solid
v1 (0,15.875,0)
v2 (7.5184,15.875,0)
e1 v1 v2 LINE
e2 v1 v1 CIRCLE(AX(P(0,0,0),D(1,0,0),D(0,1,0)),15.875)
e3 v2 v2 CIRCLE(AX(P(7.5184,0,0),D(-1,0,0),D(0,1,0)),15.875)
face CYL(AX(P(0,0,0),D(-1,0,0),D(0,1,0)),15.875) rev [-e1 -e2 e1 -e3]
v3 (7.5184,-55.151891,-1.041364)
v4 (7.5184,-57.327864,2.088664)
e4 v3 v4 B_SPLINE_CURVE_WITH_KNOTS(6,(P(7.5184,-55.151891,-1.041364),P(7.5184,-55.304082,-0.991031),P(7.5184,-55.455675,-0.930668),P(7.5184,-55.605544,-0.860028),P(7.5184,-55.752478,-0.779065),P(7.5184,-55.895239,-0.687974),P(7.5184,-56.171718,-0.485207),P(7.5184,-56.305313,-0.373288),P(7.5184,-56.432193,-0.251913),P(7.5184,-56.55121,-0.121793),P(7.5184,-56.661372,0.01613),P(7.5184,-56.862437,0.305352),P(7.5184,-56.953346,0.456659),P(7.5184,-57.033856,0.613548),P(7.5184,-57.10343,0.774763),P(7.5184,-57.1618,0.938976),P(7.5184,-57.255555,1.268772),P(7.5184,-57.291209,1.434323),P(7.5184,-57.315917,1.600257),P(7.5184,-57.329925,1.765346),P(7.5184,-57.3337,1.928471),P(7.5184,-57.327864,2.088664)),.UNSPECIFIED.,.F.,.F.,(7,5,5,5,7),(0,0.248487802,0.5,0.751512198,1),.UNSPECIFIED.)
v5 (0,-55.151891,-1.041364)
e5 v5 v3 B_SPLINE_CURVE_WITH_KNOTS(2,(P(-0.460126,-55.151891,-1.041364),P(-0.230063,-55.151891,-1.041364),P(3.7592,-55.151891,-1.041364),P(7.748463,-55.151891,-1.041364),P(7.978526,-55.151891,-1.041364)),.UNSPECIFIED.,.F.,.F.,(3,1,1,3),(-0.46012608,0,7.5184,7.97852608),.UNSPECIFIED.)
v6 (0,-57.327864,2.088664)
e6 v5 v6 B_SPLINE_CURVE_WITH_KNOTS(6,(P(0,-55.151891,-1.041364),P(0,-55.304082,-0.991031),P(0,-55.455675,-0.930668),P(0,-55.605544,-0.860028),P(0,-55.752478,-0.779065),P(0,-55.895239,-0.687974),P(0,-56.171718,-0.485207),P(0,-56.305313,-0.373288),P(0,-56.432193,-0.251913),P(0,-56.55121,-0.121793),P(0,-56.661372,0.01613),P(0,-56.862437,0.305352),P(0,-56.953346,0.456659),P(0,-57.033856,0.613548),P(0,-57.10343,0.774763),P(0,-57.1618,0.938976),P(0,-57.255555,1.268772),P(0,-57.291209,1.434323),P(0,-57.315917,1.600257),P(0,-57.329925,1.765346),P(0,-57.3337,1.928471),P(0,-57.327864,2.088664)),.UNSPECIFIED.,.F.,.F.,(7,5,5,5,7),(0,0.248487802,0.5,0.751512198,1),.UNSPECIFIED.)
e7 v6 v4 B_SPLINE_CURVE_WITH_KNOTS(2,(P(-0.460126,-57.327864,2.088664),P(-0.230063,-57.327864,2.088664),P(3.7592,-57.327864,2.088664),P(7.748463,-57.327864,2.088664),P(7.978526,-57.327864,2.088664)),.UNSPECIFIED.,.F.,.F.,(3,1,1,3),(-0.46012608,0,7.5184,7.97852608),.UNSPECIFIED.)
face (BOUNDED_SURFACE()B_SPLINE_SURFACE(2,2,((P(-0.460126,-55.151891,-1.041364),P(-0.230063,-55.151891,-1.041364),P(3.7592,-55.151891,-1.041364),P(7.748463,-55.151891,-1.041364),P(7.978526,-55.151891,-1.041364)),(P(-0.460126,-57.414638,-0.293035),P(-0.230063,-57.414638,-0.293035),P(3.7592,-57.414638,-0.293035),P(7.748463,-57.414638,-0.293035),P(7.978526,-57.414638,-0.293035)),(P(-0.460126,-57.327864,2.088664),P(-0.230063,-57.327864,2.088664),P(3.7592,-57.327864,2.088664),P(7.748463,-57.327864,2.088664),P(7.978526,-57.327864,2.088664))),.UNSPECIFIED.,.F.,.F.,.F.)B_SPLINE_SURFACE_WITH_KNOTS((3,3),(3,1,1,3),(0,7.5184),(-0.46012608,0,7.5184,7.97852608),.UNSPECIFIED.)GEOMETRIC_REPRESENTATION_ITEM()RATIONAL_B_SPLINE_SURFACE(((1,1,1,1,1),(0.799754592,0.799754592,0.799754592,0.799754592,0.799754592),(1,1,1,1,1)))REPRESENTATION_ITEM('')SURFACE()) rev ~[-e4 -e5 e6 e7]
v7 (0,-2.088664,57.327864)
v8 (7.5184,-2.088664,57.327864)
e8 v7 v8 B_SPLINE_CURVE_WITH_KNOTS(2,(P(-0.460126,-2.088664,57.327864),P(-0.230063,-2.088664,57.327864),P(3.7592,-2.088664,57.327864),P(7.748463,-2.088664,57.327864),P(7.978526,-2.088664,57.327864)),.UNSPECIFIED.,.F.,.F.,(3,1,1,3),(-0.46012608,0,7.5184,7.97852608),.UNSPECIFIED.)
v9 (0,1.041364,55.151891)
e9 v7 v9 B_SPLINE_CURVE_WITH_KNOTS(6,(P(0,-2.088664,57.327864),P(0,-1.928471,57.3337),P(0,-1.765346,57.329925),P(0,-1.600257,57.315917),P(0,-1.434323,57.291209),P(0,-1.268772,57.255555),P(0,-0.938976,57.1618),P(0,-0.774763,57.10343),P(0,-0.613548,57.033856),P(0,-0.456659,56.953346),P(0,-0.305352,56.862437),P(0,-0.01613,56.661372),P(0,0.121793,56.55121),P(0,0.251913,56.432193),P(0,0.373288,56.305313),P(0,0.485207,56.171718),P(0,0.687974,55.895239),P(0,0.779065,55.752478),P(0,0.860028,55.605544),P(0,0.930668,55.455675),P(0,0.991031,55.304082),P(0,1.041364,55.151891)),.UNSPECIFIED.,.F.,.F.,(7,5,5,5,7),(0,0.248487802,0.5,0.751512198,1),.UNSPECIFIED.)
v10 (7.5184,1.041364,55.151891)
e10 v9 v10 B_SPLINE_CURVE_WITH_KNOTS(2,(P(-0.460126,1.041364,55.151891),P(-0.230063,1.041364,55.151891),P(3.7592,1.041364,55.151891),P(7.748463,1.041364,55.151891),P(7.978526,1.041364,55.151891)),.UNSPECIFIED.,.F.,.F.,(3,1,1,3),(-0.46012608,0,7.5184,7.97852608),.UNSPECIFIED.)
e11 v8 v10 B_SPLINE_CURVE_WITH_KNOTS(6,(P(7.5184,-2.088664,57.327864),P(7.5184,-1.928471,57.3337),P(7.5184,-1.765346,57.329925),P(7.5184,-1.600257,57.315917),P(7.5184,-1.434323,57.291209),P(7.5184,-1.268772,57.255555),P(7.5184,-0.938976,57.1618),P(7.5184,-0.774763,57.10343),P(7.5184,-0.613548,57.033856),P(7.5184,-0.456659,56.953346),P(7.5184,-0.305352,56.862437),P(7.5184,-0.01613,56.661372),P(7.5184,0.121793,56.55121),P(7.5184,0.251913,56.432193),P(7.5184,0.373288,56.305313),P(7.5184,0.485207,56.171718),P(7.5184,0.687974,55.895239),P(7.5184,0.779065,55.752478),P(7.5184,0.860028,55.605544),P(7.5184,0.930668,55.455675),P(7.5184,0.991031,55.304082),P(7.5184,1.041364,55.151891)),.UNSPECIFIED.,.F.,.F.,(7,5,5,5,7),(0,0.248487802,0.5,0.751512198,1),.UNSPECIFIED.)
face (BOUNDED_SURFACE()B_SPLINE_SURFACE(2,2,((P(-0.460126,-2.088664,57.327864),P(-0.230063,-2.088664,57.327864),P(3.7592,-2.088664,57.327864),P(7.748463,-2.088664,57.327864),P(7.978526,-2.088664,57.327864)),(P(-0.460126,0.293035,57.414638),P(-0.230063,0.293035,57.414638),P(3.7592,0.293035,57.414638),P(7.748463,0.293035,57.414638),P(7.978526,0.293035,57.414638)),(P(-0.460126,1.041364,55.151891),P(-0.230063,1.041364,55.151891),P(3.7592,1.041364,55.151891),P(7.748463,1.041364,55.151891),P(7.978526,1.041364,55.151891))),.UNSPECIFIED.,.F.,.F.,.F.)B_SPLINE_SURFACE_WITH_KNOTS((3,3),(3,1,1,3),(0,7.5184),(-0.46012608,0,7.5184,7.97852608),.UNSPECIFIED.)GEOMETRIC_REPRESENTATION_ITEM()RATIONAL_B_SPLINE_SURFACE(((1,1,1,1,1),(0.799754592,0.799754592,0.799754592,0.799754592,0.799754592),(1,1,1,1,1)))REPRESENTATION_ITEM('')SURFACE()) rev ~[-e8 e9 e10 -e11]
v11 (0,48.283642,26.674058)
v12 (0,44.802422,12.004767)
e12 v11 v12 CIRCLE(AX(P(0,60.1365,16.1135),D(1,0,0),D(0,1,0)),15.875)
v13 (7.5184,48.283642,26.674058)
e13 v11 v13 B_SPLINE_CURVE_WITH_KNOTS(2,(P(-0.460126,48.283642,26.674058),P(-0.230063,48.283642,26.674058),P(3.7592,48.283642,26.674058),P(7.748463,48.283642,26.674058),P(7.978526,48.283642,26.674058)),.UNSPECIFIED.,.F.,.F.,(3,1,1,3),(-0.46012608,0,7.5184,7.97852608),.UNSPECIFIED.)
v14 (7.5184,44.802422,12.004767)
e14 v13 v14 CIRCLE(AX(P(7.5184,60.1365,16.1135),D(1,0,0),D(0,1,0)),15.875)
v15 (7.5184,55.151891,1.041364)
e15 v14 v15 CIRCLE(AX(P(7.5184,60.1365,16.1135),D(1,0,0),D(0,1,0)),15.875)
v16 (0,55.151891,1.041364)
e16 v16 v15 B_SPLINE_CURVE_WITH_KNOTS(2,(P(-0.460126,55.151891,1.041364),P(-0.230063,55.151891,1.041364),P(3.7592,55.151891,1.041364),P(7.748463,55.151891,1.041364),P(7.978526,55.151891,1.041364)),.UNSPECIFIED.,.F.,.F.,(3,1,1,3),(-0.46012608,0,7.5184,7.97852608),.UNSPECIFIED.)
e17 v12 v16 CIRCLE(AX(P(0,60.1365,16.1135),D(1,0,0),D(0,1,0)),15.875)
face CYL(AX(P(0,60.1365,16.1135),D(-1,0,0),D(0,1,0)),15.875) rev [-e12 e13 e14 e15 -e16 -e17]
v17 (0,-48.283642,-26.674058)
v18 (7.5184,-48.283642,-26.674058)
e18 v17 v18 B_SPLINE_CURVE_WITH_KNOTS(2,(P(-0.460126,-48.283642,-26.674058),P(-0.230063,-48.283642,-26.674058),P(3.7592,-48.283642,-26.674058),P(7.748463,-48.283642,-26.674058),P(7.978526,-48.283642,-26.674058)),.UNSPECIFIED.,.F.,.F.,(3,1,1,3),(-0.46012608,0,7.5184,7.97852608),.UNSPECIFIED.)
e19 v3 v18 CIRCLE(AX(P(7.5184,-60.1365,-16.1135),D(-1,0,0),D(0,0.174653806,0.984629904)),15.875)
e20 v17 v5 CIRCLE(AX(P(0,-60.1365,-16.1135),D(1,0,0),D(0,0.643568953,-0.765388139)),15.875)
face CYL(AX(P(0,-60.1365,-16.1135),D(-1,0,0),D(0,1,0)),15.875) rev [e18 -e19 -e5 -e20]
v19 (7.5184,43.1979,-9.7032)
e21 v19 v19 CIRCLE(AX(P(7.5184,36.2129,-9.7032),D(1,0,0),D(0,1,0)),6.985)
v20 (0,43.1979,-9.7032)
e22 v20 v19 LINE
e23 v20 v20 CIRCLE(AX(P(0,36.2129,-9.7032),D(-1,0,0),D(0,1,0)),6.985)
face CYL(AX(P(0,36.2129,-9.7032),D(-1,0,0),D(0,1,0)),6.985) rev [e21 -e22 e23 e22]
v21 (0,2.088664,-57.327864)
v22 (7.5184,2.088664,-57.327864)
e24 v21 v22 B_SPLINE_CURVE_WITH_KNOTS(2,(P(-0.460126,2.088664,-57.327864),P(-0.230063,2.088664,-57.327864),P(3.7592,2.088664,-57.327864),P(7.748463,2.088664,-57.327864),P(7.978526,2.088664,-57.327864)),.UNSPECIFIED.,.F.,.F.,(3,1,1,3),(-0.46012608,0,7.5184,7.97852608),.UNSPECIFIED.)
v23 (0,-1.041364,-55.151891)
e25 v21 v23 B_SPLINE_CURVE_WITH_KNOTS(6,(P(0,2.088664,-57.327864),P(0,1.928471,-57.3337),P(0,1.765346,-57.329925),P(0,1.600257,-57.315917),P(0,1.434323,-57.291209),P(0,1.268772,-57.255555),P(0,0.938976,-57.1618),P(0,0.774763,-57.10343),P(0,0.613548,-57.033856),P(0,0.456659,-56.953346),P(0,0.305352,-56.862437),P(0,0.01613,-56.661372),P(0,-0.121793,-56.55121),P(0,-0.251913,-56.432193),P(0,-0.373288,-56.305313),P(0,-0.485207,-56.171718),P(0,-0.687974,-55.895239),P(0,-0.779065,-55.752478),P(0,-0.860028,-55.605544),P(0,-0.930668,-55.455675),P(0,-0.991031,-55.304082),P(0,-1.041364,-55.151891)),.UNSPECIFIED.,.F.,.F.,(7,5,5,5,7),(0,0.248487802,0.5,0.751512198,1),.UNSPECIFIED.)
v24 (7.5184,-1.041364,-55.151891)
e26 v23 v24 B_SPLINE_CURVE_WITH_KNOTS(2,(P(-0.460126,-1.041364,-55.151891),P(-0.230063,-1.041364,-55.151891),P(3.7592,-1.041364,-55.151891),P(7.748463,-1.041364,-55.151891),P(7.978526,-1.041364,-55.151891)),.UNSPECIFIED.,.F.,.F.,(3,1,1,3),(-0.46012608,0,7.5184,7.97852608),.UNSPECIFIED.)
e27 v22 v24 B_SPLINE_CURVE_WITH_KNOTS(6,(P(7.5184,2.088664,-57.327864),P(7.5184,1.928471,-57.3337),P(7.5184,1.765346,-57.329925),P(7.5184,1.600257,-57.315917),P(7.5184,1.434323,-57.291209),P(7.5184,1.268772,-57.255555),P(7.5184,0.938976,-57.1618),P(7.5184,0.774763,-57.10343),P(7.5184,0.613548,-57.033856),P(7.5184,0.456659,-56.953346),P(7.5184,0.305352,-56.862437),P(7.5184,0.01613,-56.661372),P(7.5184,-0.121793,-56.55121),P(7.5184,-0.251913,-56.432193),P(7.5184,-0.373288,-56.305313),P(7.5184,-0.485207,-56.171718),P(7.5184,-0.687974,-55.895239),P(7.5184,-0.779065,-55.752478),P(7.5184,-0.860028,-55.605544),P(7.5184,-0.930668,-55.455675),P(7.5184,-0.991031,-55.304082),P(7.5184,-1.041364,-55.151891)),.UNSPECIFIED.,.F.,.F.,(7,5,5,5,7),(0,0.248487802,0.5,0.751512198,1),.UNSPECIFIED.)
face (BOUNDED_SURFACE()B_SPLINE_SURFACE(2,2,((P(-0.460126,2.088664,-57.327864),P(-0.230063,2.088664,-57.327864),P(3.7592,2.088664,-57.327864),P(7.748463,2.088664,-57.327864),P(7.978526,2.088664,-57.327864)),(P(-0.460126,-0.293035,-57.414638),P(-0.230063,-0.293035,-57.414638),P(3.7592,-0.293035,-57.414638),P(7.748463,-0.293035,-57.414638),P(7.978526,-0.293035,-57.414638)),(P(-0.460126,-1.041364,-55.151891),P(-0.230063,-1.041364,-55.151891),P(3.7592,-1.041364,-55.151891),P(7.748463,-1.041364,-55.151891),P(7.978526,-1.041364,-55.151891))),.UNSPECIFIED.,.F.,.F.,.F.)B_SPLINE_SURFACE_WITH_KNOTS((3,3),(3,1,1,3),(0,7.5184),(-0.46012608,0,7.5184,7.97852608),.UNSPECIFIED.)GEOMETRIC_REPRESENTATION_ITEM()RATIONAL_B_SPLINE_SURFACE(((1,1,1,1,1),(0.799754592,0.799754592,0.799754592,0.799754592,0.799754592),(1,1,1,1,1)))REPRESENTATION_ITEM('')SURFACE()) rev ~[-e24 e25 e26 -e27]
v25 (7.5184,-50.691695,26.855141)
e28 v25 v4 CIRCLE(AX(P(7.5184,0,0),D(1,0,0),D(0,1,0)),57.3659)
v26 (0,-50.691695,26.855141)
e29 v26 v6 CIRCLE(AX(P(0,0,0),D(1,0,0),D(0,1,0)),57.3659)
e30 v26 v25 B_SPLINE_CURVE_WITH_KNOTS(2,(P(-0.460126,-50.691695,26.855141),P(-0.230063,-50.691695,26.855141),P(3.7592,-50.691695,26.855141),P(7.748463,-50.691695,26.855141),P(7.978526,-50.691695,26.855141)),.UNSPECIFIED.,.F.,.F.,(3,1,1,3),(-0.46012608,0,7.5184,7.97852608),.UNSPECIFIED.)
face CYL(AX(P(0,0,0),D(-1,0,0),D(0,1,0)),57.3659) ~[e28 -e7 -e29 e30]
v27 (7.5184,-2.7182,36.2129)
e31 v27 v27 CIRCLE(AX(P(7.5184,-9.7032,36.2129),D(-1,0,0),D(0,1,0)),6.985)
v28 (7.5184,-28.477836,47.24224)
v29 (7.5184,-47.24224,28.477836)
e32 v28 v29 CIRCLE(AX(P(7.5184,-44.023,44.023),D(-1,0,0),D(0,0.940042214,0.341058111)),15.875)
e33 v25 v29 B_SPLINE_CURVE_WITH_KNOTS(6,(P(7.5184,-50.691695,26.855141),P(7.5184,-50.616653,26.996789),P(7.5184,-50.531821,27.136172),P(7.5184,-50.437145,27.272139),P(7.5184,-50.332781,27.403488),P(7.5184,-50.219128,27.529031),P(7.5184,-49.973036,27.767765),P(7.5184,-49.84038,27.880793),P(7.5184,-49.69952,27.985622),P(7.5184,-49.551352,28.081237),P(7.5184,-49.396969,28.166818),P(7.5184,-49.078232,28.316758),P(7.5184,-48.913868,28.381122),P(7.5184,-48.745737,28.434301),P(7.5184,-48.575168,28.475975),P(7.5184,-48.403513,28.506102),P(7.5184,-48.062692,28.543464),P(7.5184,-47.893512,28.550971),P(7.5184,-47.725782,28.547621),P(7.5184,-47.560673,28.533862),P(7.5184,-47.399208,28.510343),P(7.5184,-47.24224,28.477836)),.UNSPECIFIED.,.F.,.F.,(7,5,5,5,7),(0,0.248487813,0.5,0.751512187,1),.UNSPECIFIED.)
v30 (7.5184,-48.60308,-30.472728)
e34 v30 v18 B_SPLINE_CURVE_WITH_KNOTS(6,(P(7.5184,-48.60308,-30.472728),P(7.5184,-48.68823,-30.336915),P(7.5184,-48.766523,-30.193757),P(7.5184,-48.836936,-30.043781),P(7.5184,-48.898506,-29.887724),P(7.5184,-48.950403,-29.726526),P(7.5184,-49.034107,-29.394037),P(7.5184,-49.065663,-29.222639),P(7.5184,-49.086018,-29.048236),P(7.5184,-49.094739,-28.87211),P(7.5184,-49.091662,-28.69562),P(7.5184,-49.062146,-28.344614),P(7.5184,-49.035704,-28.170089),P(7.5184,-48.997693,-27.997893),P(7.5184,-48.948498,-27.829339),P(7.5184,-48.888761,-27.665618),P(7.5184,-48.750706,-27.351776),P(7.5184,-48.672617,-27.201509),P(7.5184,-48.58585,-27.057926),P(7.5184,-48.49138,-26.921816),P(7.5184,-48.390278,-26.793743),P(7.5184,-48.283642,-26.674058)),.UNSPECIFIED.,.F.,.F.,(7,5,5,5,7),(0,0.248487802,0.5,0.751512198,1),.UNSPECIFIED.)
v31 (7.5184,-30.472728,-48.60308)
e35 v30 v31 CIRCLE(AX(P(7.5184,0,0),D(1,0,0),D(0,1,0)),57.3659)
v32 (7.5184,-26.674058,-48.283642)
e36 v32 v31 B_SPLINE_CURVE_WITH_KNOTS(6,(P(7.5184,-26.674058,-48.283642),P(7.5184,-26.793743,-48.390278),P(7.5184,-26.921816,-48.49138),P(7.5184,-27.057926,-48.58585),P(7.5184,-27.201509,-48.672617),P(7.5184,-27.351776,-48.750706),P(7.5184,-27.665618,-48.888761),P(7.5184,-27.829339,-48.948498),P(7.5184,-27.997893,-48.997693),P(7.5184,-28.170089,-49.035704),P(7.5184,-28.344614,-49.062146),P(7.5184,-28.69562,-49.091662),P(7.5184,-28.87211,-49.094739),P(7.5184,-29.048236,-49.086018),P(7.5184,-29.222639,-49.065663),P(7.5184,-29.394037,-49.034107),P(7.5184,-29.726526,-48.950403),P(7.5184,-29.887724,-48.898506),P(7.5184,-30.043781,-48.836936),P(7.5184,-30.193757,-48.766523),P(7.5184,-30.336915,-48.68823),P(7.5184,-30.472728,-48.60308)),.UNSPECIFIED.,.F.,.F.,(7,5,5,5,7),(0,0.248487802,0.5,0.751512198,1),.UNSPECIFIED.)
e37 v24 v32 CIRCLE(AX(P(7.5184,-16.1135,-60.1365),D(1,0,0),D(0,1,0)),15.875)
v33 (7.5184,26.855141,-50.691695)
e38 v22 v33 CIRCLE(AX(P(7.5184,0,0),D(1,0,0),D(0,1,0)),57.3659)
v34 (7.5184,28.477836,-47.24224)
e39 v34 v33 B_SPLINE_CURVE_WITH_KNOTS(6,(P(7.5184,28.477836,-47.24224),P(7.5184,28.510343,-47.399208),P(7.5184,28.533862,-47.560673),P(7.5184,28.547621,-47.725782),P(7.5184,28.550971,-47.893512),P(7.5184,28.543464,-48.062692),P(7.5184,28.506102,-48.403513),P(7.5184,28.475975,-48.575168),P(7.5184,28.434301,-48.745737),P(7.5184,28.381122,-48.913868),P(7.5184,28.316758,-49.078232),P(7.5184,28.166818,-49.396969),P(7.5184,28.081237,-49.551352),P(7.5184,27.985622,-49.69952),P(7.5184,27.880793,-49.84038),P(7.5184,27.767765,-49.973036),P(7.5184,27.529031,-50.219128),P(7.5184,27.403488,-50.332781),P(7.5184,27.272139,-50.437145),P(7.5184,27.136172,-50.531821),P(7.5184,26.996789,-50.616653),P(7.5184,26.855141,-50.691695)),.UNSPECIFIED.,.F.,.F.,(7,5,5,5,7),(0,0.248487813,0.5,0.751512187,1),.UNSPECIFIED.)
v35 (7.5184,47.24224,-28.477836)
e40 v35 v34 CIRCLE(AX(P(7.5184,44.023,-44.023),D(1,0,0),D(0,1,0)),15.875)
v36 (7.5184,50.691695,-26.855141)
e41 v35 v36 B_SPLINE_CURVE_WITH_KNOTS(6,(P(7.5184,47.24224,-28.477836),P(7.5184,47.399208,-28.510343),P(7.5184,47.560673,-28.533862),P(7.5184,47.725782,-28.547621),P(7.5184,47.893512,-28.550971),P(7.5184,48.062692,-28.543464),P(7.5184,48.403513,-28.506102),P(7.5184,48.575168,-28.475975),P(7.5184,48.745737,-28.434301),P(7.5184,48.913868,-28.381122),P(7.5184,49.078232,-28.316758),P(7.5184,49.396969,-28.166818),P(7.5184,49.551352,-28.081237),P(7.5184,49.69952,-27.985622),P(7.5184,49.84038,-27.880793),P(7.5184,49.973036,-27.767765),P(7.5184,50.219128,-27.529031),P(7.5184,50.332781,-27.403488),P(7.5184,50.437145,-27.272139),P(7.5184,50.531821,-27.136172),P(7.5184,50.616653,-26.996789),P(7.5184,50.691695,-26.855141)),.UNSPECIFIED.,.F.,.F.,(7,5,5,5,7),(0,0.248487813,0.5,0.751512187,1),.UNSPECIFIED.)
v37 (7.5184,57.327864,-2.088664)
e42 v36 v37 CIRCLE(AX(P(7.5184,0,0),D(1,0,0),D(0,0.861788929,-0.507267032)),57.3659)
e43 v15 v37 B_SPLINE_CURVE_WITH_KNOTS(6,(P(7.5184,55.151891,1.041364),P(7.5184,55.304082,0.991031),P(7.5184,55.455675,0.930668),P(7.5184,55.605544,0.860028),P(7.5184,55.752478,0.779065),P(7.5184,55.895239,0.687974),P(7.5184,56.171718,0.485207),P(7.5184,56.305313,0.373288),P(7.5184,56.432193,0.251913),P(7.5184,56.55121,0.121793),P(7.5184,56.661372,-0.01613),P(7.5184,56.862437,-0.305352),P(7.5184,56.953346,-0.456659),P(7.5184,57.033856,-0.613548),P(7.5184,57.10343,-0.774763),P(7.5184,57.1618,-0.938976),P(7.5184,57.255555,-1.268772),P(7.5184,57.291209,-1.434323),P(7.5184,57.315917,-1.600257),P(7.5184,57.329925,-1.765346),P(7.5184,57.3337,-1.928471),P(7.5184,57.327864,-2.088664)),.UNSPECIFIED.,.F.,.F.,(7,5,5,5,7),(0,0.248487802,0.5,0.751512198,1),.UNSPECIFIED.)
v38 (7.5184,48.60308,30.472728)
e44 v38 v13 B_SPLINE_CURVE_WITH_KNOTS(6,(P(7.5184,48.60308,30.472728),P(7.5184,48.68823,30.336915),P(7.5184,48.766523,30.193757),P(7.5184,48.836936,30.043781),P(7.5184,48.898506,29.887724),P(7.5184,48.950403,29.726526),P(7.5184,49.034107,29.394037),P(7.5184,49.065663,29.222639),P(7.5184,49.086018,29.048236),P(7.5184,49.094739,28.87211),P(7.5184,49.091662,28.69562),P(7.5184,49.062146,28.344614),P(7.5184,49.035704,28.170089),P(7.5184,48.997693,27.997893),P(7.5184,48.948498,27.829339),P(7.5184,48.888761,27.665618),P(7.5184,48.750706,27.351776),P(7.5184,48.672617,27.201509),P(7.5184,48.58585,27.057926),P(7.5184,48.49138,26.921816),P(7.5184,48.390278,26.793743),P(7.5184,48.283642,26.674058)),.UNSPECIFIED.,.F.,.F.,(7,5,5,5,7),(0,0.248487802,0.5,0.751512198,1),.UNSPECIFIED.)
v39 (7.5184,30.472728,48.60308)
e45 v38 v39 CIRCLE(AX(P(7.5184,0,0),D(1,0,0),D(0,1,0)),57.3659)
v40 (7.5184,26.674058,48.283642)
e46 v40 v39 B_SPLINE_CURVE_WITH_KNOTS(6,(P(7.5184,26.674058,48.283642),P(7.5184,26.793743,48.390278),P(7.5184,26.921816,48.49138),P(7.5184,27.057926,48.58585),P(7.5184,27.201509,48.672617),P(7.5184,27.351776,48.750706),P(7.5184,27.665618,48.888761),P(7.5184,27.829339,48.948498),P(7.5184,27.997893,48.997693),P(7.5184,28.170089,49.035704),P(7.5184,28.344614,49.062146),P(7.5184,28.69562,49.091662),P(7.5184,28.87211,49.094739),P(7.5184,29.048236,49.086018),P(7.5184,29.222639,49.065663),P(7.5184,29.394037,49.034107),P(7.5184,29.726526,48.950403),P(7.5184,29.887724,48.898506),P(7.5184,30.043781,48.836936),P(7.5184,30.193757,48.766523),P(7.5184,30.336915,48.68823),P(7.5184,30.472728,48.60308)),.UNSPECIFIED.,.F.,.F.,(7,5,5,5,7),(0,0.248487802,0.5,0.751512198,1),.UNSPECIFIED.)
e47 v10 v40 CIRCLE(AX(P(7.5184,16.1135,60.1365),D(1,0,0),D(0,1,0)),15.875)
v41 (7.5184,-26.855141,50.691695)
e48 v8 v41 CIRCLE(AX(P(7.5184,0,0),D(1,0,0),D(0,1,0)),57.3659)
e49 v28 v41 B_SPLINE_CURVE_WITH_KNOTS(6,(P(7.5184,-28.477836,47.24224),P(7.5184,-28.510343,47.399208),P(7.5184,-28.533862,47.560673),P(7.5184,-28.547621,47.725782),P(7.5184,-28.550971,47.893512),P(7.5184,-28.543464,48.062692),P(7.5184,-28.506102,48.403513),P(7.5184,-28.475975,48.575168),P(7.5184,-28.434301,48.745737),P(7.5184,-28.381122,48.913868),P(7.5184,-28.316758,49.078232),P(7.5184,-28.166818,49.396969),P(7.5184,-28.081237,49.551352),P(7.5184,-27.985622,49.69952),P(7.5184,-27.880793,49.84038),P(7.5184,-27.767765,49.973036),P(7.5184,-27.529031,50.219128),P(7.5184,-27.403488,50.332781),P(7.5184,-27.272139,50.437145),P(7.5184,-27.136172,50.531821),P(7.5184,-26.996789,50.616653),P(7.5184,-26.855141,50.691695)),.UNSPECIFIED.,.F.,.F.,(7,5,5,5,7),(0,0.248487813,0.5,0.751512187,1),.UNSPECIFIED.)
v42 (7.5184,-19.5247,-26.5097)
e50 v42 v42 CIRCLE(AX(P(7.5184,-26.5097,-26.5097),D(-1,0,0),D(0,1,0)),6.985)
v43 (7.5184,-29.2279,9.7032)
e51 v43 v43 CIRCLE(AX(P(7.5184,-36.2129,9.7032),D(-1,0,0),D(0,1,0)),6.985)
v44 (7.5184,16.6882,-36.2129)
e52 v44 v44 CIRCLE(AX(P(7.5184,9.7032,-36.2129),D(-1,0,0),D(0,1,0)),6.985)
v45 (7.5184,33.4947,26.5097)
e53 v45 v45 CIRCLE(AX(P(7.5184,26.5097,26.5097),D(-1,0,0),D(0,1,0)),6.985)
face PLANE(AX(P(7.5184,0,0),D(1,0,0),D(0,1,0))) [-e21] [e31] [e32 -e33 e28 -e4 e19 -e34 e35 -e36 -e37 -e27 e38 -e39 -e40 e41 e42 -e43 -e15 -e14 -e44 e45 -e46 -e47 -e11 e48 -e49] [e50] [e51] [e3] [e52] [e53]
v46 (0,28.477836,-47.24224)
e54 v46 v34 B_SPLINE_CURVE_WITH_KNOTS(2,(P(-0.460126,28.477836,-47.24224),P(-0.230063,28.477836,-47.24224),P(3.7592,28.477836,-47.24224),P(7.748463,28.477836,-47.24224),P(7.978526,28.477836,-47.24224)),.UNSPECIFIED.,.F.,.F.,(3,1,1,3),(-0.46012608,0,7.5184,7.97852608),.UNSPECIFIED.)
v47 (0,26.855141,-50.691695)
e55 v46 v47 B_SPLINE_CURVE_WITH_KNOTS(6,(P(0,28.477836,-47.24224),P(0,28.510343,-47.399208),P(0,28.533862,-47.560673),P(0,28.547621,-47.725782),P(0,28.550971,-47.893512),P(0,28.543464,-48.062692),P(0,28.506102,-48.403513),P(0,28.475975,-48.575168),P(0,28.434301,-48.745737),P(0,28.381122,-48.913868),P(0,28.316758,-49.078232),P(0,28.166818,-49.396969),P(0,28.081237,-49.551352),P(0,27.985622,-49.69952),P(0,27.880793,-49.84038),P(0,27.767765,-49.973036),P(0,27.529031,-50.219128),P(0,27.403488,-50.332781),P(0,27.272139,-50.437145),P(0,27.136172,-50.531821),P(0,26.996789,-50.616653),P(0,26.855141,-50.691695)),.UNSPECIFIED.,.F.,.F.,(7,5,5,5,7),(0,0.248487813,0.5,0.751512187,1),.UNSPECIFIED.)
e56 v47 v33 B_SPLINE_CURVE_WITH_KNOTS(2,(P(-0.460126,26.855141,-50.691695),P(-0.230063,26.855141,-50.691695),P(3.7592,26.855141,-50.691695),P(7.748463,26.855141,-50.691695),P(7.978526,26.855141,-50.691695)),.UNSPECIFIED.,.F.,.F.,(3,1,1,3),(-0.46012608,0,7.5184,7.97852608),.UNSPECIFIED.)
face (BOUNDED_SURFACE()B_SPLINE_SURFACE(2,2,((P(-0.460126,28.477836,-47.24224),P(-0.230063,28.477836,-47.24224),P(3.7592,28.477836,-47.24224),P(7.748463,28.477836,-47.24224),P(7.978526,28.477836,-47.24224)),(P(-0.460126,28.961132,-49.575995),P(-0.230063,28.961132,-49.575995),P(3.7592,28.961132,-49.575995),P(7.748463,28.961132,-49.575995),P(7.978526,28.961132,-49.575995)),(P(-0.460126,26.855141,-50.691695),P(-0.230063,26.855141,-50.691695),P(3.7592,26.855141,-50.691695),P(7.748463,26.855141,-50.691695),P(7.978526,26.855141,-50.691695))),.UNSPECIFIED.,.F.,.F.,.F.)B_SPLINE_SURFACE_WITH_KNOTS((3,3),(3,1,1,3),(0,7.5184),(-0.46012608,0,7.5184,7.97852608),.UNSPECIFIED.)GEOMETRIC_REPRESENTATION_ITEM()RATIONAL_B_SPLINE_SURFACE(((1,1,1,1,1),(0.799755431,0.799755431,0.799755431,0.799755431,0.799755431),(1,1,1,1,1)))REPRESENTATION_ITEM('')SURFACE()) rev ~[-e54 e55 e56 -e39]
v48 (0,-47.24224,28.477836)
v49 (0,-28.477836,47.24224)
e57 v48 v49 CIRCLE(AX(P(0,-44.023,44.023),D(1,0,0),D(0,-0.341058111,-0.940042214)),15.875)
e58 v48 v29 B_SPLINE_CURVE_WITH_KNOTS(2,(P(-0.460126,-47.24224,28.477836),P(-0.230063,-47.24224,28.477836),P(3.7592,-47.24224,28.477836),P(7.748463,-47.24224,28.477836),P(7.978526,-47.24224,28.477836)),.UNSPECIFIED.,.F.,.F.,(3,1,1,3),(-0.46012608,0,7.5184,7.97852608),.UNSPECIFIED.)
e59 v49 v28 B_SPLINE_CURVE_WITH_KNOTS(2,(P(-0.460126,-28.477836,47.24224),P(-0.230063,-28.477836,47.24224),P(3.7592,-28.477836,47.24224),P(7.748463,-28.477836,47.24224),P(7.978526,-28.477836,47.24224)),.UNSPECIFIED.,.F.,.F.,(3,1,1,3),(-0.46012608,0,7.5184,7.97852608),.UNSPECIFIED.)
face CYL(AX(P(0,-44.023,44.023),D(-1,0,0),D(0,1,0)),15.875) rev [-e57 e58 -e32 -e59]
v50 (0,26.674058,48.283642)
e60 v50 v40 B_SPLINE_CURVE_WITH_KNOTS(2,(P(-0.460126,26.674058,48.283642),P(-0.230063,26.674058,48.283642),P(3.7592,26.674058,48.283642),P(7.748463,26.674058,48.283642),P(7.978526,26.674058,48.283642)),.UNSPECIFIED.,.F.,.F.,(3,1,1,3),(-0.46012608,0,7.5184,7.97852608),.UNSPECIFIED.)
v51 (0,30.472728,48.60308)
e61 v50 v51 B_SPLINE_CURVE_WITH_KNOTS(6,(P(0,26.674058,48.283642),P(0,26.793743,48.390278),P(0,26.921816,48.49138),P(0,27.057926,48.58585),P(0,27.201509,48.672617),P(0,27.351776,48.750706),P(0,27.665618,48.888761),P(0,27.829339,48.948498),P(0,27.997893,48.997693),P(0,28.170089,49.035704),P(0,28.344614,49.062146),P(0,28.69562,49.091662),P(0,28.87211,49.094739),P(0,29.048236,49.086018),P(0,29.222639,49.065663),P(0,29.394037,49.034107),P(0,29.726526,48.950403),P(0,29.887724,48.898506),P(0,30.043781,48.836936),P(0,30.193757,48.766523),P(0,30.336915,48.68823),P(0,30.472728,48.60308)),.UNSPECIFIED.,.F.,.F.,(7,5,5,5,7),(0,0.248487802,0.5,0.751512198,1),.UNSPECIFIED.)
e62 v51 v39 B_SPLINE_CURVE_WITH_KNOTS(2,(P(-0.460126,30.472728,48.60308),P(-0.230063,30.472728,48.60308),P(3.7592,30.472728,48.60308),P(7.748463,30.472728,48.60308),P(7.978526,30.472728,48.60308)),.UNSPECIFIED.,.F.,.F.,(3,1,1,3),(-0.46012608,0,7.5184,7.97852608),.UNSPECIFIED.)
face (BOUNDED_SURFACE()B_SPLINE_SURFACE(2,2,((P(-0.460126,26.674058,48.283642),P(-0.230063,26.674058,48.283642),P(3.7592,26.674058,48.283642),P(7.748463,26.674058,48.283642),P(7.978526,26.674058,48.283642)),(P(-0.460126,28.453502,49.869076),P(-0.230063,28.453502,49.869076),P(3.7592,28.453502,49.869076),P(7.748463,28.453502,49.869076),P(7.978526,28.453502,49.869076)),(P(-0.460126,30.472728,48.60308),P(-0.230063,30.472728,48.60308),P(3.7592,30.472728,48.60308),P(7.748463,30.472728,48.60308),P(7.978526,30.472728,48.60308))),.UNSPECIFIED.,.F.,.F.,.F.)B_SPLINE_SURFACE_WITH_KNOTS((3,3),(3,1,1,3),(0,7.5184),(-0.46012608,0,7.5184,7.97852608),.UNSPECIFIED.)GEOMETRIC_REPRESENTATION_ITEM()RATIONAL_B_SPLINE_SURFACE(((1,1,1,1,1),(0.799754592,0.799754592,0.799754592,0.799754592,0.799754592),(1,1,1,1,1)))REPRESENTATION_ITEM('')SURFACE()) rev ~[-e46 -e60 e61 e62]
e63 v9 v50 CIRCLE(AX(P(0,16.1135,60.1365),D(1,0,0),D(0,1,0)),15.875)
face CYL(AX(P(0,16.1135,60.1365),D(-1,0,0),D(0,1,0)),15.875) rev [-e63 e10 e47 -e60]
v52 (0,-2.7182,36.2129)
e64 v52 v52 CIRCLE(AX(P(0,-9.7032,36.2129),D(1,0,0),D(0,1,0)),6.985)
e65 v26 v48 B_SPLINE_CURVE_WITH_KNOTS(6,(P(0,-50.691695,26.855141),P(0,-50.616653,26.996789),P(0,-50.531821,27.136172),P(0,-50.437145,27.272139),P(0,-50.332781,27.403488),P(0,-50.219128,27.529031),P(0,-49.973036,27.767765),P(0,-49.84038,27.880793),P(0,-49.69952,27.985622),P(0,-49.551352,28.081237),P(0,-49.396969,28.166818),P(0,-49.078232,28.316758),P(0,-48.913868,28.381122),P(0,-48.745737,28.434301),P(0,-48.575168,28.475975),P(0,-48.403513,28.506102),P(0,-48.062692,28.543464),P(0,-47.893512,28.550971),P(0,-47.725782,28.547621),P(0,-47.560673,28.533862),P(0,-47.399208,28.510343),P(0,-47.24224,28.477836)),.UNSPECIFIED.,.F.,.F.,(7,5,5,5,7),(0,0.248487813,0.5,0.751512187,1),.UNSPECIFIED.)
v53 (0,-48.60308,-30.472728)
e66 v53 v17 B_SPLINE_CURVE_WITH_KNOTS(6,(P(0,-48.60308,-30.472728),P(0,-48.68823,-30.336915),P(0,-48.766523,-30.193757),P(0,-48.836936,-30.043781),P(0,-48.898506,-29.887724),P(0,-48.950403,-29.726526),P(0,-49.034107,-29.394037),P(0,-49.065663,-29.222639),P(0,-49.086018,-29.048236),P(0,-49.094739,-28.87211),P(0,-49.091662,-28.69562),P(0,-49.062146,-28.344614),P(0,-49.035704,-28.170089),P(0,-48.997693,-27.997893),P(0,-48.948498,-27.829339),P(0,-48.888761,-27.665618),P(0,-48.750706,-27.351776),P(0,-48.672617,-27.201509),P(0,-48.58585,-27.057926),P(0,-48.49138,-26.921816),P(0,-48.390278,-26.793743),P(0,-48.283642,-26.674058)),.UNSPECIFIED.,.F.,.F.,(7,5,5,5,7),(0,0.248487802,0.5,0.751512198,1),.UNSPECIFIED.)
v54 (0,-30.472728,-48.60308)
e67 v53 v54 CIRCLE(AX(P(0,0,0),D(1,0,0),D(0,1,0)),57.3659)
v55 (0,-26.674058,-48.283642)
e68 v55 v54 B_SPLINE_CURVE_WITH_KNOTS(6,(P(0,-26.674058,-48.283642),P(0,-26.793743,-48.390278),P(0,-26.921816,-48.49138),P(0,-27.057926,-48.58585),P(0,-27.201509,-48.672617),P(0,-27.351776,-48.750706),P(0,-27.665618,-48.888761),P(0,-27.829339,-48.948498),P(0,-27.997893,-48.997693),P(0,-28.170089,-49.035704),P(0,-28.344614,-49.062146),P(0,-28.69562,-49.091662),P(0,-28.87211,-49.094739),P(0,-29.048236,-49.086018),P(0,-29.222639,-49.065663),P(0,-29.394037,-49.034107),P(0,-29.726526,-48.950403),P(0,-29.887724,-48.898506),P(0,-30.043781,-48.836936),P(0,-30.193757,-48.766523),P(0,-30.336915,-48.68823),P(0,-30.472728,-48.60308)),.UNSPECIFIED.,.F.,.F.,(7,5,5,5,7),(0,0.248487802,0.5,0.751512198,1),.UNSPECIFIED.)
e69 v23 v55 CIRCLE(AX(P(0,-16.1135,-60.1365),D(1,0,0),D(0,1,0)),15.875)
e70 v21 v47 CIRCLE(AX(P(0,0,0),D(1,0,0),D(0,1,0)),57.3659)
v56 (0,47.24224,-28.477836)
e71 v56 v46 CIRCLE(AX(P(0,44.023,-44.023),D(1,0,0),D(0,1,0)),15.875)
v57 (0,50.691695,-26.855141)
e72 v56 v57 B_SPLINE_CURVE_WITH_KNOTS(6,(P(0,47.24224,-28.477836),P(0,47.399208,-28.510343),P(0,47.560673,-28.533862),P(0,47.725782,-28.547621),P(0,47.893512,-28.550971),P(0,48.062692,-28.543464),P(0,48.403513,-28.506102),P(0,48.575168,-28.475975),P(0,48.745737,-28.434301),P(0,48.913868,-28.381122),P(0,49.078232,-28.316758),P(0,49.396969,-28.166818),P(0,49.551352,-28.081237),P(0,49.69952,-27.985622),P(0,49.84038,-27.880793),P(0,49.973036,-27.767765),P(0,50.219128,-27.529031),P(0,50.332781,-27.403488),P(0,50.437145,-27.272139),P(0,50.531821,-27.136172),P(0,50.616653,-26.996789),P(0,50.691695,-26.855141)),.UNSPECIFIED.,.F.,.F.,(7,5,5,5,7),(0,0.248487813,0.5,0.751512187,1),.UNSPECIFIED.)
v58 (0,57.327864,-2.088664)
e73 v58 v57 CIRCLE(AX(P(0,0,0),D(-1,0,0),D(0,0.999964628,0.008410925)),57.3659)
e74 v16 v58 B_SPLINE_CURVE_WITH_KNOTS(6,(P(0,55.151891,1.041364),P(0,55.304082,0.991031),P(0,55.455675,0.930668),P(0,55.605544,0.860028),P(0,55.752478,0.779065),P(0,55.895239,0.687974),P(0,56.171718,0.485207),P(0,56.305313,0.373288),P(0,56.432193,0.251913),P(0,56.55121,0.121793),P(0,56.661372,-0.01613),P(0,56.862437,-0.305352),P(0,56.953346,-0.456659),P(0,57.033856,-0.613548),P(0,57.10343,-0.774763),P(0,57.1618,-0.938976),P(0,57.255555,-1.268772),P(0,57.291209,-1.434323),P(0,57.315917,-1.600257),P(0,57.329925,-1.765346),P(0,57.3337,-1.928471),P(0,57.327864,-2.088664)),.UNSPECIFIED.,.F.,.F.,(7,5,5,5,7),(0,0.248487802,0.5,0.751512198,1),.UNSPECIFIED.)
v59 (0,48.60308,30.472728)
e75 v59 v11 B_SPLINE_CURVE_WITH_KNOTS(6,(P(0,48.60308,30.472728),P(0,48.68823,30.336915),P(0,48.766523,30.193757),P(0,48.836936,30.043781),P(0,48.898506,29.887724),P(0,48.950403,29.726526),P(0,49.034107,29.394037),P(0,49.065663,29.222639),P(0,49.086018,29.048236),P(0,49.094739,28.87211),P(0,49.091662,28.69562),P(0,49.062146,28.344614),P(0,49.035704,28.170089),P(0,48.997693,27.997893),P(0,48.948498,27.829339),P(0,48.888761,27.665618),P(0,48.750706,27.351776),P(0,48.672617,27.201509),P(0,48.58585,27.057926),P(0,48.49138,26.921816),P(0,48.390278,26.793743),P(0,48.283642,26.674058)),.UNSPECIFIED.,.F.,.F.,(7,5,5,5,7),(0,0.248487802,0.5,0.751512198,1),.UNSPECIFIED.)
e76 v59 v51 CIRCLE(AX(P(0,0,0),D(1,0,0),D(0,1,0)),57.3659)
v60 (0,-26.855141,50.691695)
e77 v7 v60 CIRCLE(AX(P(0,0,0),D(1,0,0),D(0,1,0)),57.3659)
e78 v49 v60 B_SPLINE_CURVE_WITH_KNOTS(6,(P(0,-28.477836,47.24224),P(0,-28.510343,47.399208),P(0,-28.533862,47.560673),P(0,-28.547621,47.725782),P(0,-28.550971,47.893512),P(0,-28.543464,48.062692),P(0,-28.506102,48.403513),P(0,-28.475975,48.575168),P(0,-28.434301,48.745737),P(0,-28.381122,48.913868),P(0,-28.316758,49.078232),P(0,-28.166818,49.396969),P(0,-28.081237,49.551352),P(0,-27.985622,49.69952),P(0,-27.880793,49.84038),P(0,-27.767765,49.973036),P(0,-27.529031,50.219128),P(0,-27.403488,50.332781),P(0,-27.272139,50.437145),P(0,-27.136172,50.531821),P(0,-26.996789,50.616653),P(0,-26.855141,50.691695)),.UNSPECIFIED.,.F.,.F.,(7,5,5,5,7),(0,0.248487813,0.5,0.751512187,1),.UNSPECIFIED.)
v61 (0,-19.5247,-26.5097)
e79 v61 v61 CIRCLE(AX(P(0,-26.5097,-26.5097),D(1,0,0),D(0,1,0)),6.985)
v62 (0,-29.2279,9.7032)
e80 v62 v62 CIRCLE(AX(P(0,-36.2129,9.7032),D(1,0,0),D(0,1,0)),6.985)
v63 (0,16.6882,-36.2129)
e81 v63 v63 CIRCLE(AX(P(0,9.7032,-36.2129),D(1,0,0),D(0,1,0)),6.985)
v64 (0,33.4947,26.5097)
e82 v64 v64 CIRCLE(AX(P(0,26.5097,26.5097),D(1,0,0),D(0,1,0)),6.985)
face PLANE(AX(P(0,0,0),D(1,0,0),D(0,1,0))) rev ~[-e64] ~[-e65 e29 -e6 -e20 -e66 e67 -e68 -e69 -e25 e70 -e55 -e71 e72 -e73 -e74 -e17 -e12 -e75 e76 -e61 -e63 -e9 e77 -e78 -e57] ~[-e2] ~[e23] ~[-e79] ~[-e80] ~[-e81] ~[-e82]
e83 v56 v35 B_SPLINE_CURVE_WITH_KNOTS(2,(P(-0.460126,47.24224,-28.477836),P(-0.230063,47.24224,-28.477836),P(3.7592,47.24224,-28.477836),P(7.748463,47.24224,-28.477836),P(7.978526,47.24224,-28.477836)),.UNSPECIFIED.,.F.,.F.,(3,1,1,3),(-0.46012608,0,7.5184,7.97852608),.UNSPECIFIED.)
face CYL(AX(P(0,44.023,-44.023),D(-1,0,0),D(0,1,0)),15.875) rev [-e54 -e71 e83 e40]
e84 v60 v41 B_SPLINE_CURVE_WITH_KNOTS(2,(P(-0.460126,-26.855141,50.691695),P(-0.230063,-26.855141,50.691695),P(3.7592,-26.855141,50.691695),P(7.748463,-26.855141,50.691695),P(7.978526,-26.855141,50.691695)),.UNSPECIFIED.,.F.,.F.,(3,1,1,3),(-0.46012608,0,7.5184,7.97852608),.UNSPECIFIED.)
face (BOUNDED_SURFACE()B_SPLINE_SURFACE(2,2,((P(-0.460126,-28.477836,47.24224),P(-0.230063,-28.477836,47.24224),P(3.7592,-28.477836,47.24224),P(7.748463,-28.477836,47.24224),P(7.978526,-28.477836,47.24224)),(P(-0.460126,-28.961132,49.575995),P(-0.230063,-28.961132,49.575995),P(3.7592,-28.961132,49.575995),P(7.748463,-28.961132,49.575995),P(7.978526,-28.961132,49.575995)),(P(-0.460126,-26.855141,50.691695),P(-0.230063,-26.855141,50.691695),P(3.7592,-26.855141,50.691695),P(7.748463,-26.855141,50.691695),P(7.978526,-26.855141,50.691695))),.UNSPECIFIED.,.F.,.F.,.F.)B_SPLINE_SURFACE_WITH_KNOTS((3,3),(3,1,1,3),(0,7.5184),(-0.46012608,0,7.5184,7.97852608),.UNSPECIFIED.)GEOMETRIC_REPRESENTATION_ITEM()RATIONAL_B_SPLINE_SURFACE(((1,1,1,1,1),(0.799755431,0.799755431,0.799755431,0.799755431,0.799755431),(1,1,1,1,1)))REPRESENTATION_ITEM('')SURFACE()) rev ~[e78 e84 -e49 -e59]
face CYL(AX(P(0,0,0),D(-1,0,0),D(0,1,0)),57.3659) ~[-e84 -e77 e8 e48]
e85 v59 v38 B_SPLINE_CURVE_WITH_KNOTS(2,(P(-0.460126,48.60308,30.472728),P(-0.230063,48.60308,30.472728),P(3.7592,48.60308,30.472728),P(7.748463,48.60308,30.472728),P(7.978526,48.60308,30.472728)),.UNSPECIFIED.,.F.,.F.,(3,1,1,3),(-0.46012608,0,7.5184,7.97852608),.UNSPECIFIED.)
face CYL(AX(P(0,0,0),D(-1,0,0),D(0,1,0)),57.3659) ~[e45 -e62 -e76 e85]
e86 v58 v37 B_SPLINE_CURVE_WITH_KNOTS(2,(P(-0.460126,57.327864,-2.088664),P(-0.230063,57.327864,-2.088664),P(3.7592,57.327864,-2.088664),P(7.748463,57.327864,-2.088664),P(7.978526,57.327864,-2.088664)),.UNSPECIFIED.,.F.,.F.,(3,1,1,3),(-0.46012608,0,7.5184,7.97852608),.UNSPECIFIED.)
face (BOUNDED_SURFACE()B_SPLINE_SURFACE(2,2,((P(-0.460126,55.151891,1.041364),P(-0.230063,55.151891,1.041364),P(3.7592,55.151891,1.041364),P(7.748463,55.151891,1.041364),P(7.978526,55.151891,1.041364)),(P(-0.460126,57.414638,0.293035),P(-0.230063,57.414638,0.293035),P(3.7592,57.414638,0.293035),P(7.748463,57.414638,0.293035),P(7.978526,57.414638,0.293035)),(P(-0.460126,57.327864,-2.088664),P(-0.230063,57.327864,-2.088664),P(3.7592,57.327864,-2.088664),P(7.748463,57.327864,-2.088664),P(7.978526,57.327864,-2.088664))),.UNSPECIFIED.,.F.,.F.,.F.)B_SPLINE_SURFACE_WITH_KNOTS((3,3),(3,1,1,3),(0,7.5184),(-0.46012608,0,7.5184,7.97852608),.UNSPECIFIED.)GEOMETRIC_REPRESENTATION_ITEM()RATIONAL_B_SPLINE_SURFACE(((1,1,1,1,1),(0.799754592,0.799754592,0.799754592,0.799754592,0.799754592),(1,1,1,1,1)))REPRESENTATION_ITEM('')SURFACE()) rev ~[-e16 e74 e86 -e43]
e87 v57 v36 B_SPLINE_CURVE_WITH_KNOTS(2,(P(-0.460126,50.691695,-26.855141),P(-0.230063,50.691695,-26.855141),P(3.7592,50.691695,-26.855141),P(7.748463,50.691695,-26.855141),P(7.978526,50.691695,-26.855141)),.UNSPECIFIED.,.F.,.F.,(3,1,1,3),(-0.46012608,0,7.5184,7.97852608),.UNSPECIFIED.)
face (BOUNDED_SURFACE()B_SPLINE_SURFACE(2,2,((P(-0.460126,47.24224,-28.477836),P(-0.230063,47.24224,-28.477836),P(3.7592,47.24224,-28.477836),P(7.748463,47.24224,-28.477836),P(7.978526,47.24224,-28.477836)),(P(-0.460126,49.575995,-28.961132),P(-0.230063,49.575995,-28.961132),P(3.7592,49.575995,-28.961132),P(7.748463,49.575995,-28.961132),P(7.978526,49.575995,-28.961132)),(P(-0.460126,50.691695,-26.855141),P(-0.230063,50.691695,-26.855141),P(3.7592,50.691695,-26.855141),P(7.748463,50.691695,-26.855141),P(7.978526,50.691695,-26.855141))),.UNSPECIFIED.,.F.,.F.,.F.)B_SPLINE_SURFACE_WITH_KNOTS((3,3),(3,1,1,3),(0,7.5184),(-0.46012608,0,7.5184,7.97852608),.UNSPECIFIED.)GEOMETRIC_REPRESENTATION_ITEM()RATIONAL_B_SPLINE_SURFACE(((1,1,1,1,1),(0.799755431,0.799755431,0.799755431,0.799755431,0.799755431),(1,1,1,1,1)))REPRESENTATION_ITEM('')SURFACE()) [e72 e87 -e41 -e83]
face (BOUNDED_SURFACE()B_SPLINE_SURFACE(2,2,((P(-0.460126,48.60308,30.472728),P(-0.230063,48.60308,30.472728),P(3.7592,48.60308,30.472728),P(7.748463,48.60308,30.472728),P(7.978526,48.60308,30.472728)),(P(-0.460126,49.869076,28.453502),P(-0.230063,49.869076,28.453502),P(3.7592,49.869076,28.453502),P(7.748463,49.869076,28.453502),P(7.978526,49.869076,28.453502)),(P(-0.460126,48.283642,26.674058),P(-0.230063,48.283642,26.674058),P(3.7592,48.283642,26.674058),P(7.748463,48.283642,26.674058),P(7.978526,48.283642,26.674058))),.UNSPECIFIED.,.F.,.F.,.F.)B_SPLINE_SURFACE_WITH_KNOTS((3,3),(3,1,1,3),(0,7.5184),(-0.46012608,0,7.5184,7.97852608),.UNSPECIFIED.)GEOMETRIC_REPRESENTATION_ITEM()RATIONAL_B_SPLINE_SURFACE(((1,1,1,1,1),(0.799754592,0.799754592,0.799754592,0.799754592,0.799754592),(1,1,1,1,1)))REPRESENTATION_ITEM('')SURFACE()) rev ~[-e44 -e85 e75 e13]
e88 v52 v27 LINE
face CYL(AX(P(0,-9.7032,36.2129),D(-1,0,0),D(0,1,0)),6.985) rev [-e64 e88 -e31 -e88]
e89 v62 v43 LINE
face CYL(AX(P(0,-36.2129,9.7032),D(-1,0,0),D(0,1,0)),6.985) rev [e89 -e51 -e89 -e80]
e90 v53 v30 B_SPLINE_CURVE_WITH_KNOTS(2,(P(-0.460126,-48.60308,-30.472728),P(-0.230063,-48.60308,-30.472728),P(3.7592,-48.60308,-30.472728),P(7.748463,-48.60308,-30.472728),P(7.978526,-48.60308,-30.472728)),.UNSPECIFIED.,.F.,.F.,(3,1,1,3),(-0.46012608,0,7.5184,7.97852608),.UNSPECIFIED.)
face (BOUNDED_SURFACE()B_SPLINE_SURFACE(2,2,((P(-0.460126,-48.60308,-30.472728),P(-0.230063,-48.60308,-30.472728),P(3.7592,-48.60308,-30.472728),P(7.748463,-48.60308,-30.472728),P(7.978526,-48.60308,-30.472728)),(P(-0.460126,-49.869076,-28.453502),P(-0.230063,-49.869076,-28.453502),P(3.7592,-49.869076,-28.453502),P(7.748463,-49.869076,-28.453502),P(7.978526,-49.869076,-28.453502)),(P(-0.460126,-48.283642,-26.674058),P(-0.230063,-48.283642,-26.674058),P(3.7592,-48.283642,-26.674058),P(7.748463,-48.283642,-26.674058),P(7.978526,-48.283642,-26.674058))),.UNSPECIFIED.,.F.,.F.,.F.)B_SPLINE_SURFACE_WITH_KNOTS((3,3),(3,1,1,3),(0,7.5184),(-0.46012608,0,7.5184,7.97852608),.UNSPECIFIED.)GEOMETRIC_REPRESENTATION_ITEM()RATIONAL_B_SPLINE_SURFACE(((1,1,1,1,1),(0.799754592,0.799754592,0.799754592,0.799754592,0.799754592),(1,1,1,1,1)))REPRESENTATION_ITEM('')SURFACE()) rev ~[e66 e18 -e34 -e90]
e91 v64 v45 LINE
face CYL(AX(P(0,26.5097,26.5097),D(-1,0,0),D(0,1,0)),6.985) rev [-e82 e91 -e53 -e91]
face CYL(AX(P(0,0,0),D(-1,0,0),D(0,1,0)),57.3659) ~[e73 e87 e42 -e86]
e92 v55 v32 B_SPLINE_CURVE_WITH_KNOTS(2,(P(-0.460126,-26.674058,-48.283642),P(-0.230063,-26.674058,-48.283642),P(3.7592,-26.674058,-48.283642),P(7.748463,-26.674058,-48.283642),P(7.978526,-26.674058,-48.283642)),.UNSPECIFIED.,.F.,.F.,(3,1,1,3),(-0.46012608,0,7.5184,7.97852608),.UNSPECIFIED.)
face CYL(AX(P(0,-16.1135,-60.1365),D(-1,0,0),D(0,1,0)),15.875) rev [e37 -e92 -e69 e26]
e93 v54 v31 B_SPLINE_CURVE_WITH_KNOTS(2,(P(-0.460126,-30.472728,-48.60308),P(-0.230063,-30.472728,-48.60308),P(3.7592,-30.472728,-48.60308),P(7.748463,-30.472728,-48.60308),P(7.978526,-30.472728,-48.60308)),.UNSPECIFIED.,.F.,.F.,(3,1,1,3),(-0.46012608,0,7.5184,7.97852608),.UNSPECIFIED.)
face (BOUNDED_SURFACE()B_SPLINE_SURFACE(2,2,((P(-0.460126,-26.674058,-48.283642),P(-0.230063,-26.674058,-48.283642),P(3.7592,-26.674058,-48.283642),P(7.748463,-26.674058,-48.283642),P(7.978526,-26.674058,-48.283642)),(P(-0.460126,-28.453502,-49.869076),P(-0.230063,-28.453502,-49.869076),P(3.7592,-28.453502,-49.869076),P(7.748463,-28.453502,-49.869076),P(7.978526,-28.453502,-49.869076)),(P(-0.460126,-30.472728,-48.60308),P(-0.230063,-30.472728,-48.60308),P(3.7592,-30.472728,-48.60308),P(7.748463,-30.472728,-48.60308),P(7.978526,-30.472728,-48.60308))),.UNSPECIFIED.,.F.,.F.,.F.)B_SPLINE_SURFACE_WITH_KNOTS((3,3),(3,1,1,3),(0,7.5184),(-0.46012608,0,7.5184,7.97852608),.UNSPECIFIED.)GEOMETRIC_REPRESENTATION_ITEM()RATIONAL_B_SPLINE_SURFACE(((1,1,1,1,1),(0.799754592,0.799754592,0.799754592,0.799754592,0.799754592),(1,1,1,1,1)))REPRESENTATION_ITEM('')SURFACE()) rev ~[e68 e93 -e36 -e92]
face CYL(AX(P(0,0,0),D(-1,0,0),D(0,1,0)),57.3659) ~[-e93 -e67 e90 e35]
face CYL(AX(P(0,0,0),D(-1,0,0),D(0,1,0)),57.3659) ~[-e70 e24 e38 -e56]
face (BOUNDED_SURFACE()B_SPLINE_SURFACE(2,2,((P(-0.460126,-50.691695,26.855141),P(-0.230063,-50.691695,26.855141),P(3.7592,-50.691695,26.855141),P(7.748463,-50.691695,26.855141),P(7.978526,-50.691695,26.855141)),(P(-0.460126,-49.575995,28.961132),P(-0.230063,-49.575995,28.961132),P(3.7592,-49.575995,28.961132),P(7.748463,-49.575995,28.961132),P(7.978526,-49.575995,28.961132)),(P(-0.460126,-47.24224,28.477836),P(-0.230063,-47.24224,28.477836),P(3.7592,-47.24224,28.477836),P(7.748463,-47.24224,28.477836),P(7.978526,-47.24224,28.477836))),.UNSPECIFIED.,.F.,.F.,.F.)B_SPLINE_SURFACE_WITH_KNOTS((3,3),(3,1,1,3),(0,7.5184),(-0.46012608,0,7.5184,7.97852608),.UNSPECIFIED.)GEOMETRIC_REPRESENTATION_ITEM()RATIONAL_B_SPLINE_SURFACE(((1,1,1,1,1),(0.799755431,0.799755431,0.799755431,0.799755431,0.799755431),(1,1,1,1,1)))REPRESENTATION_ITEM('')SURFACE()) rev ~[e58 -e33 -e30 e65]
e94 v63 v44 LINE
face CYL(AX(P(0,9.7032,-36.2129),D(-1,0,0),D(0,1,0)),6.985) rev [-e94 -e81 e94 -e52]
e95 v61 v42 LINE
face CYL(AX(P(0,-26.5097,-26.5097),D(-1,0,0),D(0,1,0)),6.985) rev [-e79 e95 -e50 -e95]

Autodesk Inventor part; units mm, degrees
ref_plane "YZ Plane" through (0, 0, 0) normal (1, 0, 0) x (0, 1, 0)
ref_plane "XZ Plane" through (0, 0, 0) normal (0, 1, 0) x (-1, 0, 0)
ref_plane "XY Plane" through (0, 0, 0) normal (0, 0, 1) x (1, 0, 0)
sketch "Sketch1" plane through (0, 0, 0) normal (1, 0, 0) x (0, 1, 0)
  circle A0 centre (0, 0) radius 57.3659
  circle A1 centre (0, 0) radius 37.4904
  circle A2 centre (26.5097, 26.5097) radius 6.985
  line L0 (0, 0) -> (26.5097, 26.5097)
  line L1 (0, 0) -> (37.4904, 0) construction
  circle A3 centre (-9.7032, 36.2129) radius 6.985
  circle A4 centre (-36.2129, 9.7032) radius 6.985
  circle A5 centre (-26.5097, -26.5097) radius 6.985
  circle A6 centre (9.7032, -36.2129) radius 6.985
  circle A7 centre (36.2129, -9.7032) radius 6.985
  circle A8 centre (0, 0) radius 15.875
  circle A9 centre (60.1365, 16.1135) radius 15.875
  line L2 (0, 0) -> (62.2818, 0) construction
  line L3 (0, 0) -> (54.4204, 0) construction
  line L4 (0, 0) -> (47.0027, 0) construction
  line L5 (0, 0) -> (74.4134, 19.939)
  line L6 (0, 0) -> (77.0384, 0) construction
  circle A10 centre (0, 0) radius 15.875
  circle A11 centre (16.1135, 60.1365) radius 15.875
  circle A12 centre (0, 0) radius 15.875
  circle A13 centre (-44.023, 44.023) radius 15.875
  circle A14 centre (0, 0) radius 15.875
  circle A15 centre (-60.1365, -16.1135) radius 15.875
  circle A16 centre (0, 0) radius 15.875
  circle A17 centre (-16.1135, -60.1365) radius 15.875
  circle A18 centre (0, 0) radius 15.875
  circle A19 centre (44.023, -44.023) radius 15.875
  point P0 (36.2129, 9.7032)
  point P1 (49.9198, 28.264)
  point P2 (28.264, 49.9198)
  point P3 (0.4825, 57.3639)
  point P4 (-29.0998, 49.4373)
  point P5 (-49.4373, 29.0998)
  point P6 (-57.3639, -0.4825)
  point P7 (-49.9198, -28.264)
  point P8 (-28.264, -49.9198)
  point P9 (-0.4825, -57.3639)
  point P10 (29.0998, -49.4373)
  point P11 (49.4373, -29.0998)
  point P12 (57.3639, 0.4825)
  dimension "d0" = 114.7318
  dimension "d1" = 74.9808
  dimension "d2" = 13.97
  dimension "d3" = 45
  dimension "d6" = 360
  dimension "d8" = 31.75
  dimension "d12" = 31.75
  dimension "d16" = 15
  dimension "d19" = 360
extrude "Extrusion1" add sketch "Sketch1" along normal blind 7.5184 contours A1 A7 A6 A5 A4 A3 A2 L0 A8 L5 | L5 A8 L0 A2 A1 | A0 A19 A17 A15 A13 A11 A9
fillet "Fillet1" radius 3.175 12 edges at (3.7592, 57.3639, 0.4825) (3.7592, 49.9198, 28.264) (3.7592, 29.0998, -49.4373) (3.7592, 49.4373, -29.0998) (3.7592, -0.4825, -57.3639) (3.7592, -28.264, -49.9198) (3.7592, -49.9198, -28.264) (3.7592, -57.3639, -0.4825) (3.7592, -49.4373, 29.0998) (3.7592, -29.0998, 49.4373) (3.7592, 0.4825, 57.3639) (3.7592, 28.264, 49.9198)
properties part number "Flex_Giubo_V1"
